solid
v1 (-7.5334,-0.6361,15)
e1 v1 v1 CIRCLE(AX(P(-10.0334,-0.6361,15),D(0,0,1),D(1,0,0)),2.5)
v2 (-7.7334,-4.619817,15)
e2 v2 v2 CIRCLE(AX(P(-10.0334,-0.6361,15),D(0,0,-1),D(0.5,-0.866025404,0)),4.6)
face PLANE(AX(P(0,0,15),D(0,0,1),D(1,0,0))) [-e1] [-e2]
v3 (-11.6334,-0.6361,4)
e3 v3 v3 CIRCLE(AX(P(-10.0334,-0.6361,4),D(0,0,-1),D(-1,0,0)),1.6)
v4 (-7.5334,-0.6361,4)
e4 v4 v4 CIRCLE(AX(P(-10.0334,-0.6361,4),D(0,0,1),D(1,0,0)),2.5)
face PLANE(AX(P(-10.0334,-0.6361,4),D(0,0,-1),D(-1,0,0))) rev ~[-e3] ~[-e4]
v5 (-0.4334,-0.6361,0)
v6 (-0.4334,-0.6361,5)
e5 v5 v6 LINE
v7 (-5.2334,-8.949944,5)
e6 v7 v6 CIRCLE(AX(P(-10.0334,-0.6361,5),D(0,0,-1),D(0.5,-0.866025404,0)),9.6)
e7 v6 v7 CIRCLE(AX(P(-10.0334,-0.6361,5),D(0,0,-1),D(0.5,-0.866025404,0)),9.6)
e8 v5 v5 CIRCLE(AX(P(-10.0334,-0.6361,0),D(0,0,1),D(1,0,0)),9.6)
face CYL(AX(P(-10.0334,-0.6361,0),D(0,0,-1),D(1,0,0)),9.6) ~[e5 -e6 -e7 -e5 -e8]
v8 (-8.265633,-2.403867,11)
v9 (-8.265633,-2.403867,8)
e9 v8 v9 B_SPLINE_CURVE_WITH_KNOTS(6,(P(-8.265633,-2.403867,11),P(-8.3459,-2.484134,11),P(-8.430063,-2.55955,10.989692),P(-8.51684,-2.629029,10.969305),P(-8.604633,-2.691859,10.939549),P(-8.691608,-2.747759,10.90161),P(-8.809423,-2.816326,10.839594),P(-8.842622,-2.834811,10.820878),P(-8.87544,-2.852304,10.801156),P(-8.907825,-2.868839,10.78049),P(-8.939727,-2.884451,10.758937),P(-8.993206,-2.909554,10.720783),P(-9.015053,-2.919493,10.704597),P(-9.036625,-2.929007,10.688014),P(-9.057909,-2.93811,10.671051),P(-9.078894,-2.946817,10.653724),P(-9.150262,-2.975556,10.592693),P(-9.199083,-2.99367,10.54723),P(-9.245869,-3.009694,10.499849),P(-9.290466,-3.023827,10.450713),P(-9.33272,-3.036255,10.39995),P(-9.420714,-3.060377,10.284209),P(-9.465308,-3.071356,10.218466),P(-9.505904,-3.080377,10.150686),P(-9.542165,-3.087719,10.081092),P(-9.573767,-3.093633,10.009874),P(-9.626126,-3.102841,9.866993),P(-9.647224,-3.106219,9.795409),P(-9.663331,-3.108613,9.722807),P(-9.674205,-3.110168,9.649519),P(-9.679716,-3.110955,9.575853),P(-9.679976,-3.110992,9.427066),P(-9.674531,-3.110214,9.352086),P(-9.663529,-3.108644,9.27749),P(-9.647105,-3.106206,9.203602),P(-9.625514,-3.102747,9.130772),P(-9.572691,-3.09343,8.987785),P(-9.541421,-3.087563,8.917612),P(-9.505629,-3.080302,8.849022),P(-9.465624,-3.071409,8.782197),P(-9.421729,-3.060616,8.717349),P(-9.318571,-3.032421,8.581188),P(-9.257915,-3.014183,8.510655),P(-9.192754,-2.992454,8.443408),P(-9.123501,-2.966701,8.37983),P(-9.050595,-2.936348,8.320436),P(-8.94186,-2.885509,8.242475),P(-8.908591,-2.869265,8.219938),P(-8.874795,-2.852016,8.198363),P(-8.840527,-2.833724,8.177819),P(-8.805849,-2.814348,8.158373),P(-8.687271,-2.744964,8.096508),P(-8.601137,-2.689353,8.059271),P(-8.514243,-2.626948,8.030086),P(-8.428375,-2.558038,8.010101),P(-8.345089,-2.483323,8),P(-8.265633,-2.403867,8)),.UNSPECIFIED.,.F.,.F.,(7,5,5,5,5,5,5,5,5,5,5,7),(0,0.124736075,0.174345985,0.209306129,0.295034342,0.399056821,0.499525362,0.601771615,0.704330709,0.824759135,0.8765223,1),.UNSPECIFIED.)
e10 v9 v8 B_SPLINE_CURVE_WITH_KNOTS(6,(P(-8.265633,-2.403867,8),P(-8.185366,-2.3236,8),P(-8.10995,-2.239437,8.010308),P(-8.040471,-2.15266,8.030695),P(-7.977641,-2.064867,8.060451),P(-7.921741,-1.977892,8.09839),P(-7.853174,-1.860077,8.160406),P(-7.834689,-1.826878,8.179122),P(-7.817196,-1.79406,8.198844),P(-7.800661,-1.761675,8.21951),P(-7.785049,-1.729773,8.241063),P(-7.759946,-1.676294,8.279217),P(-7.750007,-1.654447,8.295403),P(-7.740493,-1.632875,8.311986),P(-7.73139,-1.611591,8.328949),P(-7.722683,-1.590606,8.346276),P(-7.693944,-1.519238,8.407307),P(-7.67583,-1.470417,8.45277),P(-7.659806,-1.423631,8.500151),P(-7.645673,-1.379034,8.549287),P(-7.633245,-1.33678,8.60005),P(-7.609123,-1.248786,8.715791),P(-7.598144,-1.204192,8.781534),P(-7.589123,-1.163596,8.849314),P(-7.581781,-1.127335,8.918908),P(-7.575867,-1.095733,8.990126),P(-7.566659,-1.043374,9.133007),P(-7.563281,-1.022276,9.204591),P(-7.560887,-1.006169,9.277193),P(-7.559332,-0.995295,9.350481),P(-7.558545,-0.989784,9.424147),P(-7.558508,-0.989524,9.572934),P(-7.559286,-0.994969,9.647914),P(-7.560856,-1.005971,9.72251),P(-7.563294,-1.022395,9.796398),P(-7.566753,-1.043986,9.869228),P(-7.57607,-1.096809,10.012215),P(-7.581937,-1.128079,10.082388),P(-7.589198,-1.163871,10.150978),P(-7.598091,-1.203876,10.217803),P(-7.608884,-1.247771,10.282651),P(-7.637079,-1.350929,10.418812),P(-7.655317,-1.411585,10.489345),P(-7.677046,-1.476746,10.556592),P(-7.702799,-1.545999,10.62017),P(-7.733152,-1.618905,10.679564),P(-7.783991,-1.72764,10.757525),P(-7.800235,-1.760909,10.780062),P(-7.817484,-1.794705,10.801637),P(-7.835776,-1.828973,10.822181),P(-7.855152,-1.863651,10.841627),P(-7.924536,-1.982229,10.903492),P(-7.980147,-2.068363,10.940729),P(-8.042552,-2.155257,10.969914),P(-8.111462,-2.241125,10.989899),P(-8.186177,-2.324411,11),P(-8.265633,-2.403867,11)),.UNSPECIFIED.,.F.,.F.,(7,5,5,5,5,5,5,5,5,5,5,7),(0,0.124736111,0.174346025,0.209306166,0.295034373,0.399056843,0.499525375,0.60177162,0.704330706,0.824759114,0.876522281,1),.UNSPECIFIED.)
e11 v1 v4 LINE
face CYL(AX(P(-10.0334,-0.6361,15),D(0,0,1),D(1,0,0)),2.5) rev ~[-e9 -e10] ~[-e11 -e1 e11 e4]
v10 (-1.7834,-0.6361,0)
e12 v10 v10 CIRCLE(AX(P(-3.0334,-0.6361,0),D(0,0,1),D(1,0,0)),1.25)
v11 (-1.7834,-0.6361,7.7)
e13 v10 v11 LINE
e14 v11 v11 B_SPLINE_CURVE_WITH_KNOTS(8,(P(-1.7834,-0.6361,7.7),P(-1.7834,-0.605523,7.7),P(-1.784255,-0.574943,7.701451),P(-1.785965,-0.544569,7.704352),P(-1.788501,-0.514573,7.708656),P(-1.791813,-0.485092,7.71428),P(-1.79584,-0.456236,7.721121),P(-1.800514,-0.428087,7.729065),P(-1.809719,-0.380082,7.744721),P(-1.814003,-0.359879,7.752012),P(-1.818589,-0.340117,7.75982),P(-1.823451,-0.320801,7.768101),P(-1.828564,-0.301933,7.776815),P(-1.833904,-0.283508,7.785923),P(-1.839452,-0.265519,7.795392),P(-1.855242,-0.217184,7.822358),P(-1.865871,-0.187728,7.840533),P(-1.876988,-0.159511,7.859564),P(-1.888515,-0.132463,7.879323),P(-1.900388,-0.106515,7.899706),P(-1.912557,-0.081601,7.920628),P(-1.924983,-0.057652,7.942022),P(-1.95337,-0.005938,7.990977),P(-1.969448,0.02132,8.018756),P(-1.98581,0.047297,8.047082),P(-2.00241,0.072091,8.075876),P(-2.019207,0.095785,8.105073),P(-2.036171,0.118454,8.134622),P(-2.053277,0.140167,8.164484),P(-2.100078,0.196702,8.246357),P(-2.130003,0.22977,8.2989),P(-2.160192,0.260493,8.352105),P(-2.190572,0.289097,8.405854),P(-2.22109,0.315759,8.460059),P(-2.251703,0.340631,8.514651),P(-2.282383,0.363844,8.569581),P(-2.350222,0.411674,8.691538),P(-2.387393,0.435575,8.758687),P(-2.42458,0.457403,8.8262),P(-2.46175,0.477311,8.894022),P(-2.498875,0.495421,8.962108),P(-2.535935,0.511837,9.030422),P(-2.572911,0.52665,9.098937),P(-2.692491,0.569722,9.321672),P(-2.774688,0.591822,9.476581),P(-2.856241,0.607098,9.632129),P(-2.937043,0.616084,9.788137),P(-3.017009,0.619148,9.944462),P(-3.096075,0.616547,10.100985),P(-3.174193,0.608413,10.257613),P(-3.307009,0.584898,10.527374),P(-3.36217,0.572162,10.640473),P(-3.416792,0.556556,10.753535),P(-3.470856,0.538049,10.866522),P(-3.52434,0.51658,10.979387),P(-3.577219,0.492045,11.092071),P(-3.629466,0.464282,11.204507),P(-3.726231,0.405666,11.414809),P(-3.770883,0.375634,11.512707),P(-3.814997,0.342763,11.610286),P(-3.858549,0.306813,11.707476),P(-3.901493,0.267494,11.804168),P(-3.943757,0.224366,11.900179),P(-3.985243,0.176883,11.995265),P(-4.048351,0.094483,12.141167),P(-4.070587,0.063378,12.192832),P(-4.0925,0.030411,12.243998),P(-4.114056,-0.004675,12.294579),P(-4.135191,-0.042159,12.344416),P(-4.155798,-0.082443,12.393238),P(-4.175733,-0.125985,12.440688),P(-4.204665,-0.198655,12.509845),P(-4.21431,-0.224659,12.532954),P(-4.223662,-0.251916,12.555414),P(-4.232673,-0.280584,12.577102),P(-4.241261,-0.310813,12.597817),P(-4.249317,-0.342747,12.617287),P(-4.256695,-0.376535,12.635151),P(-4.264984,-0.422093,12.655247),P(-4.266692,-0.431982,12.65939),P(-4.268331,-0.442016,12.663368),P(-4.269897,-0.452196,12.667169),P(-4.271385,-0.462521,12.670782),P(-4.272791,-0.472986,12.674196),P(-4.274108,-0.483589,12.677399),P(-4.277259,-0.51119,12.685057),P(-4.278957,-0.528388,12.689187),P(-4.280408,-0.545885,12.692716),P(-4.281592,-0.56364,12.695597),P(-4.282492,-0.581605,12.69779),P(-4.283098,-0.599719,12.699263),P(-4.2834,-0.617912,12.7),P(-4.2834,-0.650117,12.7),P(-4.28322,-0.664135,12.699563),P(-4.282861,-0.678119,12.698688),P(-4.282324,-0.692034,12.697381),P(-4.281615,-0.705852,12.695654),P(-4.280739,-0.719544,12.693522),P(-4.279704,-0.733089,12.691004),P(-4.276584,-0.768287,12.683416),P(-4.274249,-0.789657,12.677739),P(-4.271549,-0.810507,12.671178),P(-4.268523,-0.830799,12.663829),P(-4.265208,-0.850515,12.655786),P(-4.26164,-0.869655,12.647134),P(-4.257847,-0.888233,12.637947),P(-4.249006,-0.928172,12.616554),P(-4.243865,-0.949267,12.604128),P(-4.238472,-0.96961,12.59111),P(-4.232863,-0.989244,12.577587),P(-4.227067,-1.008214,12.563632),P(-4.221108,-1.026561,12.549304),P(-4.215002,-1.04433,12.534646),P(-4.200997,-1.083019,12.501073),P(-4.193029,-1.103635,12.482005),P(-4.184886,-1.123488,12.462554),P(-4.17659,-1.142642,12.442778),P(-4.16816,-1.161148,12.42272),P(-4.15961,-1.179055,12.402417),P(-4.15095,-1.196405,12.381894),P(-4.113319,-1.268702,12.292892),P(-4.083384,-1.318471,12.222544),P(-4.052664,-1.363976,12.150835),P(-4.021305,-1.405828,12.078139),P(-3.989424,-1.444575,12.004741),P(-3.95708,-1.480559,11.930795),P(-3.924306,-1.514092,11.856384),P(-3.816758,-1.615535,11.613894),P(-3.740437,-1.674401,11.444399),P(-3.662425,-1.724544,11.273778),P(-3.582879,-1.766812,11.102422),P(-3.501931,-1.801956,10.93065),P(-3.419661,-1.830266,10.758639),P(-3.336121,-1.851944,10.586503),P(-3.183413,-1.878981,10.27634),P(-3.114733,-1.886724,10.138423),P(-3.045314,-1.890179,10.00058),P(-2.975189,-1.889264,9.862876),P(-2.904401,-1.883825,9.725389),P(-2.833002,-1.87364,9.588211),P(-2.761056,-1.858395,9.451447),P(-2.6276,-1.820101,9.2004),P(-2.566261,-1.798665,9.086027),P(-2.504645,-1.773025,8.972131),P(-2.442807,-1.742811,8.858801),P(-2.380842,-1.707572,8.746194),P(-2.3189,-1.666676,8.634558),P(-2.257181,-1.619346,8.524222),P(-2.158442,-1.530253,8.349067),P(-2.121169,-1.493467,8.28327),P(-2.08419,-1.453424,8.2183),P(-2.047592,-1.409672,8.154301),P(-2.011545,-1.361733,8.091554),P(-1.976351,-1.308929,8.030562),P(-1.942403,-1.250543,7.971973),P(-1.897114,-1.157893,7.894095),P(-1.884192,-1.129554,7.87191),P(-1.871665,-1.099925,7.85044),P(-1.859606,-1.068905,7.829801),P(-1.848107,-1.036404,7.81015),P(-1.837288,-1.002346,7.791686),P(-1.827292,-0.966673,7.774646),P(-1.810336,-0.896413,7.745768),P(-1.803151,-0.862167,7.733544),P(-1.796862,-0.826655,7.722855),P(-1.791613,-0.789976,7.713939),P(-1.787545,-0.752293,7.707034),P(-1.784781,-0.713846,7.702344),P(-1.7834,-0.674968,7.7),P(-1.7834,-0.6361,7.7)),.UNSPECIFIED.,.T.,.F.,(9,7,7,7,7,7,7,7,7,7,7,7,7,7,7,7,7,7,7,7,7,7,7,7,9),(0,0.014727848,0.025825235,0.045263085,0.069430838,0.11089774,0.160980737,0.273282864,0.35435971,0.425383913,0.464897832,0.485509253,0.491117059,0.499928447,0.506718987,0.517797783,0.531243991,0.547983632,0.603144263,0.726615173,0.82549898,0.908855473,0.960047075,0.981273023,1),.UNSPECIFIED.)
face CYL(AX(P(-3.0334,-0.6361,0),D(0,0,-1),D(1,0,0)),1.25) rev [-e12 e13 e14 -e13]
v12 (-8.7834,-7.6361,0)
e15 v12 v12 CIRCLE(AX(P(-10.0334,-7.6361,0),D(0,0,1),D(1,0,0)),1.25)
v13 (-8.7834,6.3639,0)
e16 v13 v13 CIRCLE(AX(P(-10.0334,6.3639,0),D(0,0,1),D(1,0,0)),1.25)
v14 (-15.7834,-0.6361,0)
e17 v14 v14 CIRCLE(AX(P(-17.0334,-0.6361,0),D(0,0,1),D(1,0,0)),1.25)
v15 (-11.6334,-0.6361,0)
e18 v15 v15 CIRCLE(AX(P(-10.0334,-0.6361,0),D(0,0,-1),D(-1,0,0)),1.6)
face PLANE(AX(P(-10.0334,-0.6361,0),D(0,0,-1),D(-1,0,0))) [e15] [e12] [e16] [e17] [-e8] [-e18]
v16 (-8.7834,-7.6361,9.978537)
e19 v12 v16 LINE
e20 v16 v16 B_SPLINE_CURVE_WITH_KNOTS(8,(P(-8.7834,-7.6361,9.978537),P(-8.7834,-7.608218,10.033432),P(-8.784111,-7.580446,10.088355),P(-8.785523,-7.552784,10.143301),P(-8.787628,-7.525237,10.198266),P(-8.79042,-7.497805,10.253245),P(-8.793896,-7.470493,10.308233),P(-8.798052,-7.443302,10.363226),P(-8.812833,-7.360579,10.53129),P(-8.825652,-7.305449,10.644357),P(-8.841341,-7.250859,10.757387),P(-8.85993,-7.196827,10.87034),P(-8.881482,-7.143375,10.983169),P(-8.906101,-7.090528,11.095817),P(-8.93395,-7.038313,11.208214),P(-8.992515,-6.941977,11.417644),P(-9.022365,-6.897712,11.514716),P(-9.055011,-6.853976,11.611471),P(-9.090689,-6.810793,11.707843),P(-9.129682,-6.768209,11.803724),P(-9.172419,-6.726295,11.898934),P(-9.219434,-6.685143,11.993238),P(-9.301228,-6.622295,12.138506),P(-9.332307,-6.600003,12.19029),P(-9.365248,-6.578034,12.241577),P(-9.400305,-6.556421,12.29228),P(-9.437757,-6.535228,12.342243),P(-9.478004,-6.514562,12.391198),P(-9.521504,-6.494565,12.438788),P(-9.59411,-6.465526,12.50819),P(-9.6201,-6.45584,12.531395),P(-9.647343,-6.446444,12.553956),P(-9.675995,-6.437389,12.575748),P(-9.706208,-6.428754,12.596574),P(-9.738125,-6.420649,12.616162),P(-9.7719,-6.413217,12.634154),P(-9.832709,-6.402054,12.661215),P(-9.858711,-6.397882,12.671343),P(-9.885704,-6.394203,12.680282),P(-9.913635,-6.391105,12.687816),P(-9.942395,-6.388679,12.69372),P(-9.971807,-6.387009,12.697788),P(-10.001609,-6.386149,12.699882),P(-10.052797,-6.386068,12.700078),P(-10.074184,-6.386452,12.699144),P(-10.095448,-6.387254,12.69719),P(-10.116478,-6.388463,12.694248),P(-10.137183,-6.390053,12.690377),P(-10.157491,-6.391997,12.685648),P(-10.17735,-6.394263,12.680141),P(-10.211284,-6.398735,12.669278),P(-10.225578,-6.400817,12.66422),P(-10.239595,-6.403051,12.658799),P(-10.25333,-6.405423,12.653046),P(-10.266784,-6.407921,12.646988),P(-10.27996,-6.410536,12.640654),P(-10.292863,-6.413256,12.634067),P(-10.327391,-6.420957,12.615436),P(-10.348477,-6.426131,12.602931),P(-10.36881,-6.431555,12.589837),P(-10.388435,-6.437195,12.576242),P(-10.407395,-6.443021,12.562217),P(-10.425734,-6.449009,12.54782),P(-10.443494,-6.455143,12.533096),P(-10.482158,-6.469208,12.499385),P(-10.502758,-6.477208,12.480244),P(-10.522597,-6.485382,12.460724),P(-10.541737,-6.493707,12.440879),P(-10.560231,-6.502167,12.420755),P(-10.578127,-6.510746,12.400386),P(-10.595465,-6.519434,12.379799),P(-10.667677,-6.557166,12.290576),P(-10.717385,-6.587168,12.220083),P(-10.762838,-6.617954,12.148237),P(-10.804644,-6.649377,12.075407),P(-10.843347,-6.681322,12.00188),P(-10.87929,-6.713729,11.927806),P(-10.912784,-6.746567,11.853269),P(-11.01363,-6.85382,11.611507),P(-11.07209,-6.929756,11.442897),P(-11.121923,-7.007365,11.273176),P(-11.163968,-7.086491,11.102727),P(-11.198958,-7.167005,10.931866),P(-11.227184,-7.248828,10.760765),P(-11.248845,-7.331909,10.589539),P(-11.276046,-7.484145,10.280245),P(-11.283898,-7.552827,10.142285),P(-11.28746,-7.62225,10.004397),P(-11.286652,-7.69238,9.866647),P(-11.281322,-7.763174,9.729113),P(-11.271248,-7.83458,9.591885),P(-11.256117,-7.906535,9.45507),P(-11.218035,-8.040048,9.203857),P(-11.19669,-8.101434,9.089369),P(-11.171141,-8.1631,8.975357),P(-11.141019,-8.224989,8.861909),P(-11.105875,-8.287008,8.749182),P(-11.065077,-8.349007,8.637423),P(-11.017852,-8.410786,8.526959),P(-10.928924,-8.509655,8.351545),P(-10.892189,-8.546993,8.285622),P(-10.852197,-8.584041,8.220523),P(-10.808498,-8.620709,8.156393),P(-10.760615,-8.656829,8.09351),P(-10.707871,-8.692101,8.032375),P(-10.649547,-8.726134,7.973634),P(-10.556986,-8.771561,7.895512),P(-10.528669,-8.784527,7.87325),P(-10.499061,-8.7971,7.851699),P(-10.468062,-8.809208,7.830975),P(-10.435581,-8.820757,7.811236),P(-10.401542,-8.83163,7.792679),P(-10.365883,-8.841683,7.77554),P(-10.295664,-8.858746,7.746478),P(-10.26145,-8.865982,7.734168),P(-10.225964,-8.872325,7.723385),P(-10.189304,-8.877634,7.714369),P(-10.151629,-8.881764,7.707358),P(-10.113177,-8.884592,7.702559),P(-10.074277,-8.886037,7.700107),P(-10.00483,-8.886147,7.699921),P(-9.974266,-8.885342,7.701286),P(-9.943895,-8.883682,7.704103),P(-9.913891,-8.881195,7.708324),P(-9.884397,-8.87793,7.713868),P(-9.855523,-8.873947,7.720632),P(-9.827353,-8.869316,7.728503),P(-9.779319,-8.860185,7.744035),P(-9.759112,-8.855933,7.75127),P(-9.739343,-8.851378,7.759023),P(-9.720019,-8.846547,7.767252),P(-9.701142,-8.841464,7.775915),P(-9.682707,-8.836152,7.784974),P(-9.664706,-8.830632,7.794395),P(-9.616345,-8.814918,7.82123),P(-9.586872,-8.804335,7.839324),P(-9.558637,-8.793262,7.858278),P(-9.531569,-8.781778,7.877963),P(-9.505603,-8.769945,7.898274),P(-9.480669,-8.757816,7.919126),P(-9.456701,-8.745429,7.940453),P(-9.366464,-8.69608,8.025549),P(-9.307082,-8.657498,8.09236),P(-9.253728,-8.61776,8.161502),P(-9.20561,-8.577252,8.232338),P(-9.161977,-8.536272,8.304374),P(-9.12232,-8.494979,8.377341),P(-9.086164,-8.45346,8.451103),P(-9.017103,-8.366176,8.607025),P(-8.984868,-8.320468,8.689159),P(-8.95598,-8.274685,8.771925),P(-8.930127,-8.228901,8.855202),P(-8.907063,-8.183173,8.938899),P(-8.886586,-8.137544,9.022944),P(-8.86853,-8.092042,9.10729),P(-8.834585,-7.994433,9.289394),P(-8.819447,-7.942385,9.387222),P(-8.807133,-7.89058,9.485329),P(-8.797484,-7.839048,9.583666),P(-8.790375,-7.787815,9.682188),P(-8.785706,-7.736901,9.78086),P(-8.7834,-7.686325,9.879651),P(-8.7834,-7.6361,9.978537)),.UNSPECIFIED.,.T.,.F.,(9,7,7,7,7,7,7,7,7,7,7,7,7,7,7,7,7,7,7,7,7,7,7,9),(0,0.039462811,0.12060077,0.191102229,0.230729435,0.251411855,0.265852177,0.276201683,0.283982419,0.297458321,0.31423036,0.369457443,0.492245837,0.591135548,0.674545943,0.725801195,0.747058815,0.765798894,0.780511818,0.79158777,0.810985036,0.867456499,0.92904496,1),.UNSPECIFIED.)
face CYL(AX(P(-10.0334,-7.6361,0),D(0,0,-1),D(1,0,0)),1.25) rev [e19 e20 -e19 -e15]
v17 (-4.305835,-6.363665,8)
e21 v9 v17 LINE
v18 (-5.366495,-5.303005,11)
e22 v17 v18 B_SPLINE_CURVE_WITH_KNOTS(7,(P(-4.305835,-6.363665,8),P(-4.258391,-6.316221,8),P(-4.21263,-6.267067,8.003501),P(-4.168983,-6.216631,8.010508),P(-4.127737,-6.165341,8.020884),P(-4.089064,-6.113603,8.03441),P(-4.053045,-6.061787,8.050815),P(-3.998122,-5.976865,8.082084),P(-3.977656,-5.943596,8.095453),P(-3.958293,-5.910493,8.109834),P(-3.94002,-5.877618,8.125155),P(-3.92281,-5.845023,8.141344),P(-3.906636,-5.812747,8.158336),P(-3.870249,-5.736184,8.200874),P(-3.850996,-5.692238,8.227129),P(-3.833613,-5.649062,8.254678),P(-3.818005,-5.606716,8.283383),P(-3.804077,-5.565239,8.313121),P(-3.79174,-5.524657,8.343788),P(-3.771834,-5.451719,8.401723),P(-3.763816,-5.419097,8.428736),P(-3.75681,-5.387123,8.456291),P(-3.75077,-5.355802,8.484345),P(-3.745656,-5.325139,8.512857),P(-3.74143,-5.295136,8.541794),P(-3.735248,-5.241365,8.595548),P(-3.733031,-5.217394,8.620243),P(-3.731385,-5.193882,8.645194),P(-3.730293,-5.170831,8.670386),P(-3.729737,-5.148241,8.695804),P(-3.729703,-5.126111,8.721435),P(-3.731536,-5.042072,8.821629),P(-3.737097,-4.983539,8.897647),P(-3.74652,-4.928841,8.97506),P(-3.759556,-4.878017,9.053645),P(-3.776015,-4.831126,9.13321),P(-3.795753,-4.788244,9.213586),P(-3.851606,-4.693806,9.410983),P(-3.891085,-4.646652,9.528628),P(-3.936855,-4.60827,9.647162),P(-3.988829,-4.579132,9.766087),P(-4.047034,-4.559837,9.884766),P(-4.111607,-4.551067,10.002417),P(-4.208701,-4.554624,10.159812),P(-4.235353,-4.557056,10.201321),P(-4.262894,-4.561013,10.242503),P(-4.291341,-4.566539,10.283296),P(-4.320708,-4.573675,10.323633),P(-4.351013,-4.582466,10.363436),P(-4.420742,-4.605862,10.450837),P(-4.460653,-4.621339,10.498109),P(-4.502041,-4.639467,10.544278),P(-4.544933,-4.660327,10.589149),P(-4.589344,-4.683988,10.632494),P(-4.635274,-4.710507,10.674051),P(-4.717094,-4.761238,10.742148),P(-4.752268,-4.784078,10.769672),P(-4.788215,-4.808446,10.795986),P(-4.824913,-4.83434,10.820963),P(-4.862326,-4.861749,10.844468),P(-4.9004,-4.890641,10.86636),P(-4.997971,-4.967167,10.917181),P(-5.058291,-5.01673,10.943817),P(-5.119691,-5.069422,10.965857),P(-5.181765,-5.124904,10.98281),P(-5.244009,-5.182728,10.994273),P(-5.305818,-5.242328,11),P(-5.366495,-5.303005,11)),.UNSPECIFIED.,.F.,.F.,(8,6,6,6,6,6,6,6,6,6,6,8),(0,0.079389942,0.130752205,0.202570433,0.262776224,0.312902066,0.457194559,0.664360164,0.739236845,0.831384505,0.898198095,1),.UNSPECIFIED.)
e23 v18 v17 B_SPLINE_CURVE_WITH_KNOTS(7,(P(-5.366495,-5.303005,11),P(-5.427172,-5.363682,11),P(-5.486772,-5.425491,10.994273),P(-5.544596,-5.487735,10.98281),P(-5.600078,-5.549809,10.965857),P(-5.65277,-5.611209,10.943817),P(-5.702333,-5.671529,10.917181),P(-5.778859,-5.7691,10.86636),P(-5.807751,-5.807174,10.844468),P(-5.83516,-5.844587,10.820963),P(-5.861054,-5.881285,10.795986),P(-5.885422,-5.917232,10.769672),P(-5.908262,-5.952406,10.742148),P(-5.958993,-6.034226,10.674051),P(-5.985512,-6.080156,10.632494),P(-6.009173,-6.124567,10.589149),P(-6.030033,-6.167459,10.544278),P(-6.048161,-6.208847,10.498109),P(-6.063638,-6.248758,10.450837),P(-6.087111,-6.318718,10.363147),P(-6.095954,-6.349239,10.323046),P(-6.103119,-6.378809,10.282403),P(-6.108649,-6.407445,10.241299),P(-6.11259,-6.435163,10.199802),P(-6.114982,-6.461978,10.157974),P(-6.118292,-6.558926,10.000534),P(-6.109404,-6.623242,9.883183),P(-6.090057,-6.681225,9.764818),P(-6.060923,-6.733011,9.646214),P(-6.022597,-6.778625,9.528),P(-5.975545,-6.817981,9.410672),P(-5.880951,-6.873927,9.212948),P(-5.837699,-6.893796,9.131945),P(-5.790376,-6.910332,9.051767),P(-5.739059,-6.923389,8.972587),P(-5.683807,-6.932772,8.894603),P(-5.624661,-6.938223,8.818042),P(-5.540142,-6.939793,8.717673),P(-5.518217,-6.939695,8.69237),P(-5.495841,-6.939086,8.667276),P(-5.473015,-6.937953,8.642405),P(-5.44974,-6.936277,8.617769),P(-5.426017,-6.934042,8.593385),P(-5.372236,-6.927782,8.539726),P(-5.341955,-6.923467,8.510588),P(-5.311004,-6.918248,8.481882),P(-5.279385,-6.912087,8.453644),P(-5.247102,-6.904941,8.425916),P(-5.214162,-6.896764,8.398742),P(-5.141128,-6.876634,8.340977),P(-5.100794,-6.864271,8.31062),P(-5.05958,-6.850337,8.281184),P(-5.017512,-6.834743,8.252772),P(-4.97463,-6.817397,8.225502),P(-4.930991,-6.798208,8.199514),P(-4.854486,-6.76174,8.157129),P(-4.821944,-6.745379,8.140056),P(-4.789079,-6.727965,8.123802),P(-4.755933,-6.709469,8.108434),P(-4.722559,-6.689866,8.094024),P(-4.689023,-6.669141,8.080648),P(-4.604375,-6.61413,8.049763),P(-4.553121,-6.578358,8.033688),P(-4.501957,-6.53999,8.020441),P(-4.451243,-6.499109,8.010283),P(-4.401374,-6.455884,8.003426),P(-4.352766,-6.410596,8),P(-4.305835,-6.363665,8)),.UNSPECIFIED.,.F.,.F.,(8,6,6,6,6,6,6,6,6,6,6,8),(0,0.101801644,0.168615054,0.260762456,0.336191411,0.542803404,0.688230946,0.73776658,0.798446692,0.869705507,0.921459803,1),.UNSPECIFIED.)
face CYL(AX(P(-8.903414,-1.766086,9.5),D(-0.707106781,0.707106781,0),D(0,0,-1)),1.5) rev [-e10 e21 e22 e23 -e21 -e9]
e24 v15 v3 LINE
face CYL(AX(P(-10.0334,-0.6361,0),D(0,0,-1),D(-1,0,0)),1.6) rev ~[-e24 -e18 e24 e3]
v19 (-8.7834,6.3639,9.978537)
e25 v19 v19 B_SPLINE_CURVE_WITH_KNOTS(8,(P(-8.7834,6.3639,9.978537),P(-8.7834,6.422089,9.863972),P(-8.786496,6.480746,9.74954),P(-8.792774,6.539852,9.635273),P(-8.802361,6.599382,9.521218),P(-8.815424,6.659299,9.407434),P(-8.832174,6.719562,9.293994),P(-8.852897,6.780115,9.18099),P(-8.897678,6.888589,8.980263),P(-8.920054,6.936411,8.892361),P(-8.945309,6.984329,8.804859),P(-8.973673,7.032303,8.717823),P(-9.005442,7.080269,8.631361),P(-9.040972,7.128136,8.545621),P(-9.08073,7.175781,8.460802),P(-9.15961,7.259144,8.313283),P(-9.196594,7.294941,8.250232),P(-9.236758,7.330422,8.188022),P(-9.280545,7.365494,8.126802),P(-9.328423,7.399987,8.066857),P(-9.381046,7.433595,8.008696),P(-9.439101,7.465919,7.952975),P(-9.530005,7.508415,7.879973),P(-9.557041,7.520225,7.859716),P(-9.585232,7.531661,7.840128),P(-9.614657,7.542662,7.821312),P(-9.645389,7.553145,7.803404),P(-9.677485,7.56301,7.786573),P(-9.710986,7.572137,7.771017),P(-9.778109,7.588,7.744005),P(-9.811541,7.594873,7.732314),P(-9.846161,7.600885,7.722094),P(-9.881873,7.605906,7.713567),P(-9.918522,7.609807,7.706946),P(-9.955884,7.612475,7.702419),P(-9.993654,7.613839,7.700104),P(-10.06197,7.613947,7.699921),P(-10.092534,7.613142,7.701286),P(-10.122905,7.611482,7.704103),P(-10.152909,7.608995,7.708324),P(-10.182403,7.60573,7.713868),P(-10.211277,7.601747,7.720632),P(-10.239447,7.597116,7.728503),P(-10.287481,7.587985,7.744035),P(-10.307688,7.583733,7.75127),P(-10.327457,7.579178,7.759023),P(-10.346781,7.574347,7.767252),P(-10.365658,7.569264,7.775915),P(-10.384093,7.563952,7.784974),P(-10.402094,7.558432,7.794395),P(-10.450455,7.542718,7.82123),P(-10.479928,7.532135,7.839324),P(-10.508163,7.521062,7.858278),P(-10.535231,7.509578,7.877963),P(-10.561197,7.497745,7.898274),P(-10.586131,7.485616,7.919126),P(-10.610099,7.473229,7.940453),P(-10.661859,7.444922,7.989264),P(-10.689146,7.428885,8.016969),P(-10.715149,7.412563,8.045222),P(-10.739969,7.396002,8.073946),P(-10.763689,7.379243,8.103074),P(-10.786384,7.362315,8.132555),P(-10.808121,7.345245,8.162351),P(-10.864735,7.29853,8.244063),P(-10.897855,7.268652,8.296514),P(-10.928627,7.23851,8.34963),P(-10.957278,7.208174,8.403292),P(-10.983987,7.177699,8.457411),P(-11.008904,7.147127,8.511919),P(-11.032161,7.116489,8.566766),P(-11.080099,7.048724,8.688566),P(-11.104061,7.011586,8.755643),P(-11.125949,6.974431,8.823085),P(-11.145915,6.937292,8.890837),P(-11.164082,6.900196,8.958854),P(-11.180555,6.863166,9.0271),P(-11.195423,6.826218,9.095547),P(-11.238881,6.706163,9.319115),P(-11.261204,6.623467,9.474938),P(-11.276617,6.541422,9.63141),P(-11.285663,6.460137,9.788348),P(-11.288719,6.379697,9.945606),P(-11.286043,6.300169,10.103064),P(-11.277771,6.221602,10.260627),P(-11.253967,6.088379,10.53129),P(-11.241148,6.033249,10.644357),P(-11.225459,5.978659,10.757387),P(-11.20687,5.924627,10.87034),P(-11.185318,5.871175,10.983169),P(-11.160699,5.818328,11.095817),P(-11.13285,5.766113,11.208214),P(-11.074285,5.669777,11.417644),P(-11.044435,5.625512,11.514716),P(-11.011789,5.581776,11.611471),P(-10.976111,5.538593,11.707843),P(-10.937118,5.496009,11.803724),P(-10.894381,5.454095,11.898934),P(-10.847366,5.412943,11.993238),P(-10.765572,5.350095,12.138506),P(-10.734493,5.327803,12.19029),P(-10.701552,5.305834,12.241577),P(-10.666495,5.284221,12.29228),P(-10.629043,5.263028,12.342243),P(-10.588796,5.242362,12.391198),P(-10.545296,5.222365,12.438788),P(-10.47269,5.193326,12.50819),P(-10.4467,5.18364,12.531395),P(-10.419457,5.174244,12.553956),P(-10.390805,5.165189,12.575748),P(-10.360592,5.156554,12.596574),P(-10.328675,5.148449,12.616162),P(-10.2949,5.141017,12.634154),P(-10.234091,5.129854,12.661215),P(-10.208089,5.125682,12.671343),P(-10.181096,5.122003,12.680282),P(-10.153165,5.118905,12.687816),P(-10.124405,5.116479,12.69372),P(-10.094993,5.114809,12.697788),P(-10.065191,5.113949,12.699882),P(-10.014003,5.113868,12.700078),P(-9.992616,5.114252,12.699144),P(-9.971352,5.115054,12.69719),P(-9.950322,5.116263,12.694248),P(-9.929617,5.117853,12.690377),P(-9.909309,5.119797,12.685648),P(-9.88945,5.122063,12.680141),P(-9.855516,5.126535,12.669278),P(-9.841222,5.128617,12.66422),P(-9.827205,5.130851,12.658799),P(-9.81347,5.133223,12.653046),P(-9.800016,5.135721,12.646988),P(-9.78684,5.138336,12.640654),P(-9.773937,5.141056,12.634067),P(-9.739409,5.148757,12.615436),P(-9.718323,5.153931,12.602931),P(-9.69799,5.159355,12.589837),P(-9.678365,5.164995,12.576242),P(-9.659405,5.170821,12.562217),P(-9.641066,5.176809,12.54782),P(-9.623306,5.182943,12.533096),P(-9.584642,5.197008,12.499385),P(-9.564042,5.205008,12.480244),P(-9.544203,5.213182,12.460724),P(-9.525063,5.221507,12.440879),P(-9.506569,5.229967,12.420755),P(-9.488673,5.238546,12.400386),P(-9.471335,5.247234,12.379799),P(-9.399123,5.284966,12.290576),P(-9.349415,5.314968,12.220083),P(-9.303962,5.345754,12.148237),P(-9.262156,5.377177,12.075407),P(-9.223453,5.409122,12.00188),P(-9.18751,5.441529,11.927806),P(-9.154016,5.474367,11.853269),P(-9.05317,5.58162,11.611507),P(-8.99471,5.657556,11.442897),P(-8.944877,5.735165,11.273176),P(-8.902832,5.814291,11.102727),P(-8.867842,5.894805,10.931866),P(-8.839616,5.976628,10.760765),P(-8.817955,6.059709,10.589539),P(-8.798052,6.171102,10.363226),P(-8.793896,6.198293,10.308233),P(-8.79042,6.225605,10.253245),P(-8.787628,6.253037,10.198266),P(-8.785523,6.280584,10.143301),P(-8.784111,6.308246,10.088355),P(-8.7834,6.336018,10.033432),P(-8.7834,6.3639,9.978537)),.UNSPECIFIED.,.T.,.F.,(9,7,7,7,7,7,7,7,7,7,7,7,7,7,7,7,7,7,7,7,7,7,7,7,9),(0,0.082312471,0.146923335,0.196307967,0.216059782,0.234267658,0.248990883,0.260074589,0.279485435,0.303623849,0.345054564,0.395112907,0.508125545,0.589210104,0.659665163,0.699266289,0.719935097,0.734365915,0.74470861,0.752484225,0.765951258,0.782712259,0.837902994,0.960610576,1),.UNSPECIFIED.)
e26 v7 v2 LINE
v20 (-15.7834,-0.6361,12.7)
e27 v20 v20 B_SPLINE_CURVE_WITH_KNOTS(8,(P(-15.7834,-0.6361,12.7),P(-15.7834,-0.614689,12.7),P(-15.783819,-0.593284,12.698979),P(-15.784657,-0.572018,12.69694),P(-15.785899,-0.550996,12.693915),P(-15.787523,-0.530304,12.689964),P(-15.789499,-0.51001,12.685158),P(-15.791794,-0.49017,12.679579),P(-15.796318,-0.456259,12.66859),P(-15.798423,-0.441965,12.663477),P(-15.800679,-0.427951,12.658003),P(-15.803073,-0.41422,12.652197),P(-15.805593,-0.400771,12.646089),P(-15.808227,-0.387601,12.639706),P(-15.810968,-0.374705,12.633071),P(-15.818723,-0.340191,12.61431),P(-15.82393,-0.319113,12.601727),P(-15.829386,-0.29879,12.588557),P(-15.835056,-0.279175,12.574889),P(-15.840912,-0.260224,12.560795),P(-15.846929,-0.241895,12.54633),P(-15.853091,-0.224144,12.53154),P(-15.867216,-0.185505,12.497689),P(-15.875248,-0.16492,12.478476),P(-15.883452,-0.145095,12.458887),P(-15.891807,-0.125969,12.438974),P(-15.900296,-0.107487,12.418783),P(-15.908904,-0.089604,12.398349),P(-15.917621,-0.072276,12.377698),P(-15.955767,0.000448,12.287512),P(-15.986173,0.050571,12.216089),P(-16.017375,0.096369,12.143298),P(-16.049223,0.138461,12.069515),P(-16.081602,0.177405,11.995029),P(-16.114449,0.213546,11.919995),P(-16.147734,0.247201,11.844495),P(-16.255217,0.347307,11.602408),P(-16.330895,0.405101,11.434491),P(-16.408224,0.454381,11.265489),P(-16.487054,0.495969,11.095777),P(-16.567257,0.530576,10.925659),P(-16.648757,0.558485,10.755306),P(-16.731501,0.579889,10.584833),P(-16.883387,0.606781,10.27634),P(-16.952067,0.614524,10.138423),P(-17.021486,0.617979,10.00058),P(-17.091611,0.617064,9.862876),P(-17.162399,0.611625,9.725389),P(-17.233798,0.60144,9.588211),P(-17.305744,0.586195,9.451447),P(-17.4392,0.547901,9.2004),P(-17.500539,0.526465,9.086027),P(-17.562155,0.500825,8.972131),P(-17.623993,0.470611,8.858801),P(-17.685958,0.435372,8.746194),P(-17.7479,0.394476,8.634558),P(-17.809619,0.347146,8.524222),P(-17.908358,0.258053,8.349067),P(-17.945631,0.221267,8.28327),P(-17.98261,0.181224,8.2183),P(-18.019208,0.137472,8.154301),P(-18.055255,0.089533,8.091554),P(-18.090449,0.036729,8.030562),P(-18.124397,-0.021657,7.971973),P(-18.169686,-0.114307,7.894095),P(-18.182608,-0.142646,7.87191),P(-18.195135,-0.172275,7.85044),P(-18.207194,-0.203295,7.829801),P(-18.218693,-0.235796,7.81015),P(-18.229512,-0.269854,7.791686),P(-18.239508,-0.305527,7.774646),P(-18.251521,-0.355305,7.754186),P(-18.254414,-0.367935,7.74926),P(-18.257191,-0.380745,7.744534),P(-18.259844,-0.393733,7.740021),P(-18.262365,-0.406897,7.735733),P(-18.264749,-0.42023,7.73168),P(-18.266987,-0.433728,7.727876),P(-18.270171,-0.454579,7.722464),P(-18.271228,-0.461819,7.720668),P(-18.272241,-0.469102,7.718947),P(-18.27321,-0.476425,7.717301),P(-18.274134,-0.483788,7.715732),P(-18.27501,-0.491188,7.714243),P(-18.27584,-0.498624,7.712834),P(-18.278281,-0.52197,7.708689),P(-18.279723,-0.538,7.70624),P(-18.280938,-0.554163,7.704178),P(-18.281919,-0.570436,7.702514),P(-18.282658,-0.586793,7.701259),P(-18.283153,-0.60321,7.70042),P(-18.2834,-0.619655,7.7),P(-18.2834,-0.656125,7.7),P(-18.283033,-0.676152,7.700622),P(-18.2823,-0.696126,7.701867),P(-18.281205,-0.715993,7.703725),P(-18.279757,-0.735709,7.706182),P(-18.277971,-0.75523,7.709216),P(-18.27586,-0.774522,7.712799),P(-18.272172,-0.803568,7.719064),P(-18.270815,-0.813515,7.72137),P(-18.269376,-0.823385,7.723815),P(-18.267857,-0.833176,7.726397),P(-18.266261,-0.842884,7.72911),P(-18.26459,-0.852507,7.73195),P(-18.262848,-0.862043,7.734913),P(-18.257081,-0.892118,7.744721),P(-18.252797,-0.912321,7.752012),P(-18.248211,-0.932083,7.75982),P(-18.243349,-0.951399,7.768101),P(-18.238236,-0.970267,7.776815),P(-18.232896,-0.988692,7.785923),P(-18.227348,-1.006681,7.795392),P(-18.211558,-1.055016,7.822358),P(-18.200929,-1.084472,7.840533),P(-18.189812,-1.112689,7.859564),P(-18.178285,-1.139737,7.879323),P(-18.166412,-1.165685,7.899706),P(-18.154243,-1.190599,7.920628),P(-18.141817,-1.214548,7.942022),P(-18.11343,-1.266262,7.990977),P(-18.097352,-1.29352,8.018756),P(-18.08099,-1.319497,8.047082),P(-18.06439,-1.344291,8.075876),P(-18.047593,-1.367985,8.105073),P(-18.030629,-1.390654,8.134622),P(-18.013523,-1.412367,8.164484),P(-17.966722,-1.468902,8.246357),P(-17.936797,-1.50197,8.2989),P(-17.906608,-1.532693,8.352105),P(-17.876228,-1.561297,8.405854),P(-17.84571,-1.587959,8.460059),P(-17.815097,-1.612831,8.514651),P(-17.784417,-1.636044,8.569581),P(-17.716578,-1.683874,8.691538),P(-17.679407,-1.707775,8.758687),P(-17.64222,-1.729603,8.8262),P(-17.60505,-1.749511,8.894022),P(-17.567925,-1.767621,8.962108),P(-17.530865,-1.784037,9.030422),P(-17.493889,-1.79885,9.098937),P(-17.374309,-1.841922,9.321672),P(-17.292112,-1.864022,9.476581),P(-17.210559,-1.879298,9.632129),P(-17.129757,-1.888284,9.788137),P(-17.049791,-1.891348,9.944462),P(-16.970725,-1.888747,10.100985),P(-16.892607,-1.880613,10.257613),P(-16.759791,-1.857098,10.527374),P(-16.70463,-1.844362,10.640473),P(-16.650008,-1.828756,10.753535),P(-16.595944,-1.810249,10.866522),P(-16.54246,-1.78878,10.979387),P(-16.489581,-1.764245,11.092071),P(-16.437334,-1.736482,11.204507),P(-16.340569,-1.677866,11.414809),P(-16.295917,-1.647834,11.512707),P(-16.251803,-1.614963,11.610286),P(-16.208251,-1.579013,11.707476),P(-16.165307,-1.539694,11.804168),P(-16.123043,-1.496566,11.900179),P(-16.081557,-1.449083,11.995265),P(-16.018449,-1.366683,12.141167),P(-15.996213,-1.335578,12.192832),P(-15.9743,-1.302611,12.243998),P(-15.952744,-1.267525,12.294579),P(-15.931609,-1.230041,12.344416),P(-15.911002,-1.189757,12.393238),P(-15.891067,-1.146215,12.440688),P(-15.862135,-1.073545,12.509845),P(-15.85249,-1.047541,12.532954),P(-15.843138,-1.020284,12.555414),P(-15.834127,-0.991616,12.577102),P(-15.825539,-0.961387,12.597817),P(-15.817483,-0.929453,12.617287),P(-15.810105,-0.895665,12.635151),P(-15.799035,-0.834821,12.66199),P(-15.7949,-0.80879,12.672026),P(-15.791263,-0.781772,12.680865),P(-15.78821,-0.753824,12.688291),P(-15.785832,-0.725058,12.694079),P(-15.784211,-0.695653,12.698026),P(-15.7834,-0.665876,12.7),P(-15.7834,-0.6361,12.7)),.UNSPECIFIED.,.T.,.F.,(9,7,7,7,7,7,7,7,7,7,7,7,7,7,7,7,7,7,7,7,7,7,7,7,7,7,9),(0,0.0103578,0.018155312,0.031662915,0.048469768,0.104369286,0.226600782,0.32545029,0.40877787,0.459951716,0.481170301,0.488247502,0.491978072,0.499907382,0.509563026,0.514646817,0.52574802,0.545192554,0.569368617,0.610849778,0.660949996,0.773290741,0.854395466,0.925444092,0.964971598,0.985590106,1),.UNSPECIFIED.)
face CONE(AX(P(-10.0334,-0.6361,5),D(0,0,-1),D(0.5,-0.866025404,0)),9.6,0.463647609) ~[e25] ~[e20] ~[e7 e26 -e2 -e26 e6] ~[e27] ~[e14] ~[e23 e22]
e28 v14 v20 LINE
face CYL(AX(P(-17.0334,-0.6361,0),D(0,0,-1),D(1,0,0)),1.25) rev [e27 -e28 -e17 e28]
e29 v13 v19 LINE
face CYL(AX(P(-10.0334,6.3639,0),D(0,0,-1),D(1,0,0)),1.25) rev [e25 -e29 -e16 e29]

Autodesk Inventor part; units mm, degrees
ref_plane "YZ Plane" through (0, 0, 0) normal (1, 0, 0) x (0, 1, 0)
ref_plane "XZ Plane" through (0, 0, 0) normal (0, 1, 0) x (-1, 0, 0)
ref_plane "XY Plane" through (0, 0, 0) normal (0, 0, 1) x (1, 0, 0)
sketch "Sketch1" plane through (0, 0, 0) normal (0, 0, 1) x (1, 0, 0)
  circle A0 centre (-10.0334, -0.6361) radius 9.6 projected
  circle A1 centre (-10.0334, 6.3639) radius 1.25 projected
  circle A2 centre (-3.0334, -0.6361) radius 1.25 projected
  circle A3 centre (-17.0334, -0.6361) radius 1.25 projected
  circle A4 centre (-10.0334, -7.6361) radius 1.25 projected
  point P0 (0, 0)
extrude "Extrusion1" add sketch "Sketch1" along normal blind 15
sketch "Sketch2" plane through (-10.0334, -0.6361, 15) normal (0, 0, 1) x (1, 0, 0)
  circle A0 centre (0, 0) radius 2.5
  point P0 (10.0334, 0.6361)
  dimension "d2" = 5
extrude "Extrusion2" cut sketch "Sketch2" against normal through all
ref_plane "Work Plane2" through (-10.0334, -0.6361, 15) normal (-0.866, -0.5, 0) x (0, 0, -1)
ref_plane "Work Plane1" through (54.8563, 26.4356, 21.5) normal (0.5, -0.866, 0) x (-0.2494, -0.144, -0.9577)
sketch "Sketch3" plane through (-10.0334, -0.6361, 15) normal (-0.866, -0.5, 0) x (0, 0, -1)
  line L0 (0, 9.6) -> (0, -9.6) projected
  line L1 (0, 9.6) -> (10, 9.6)
  line L2 (15, 9.6) -> (0, 9.6) projected
  line L3 (15, 9.6) -> (15, 4.6)
  line L4 (15, 9.6) -> (15, -9.6) projected
  line L5 (10, 9.6) -> (15, 4.6)
  line L6 (-3, 0) -> (18, 0) projected
  line L7 (10, 9.6) -> (0, 4.6)
  point P0 (15, 4.4658)
  point P1 (10, 9.6)
  dimension "d6" = 10
  dimension "d7" = 5
revolve "Revolution1" cut sketch "Sketch3" angle 360 about axis through (-10.0334, -0.6361, 15) along (0, 0, -1) contours L1 L7 L0
sketch "Sketch4" plane through (-10.0334, -0.6361, 0) normal (0, 0, -1) x (-1, 0, 0)
  circle A0 centre (0, 0) radius 2.5
  circle A1 centre (0, 0) radius 1.6
  point P0 (-10.0334, 0.6361)
  dimension "d9" = 3.2
extrude "Extrusion3" add sketch "Sketch4" against normal blind 4
sketch "Sketch5" plane through (-10.0334, -0.6361, 15) normal (-0.866, -0.5, 0) x (0, 0, -1)
  line L0 (0, -2.5) -> (0, 2.5) projected
  line L1 (0, 2.5) -> (5.5, 2.5)
  line L2 (0, 2.5) -> (11, 2.5) projected
  line L3 (5.5, 2.5) -> (5.5, 8.6823)
  point P0 (15, 4.4658)
ref_plane "Work Plane6" through (-8.902, -1.7675, 0) normal (0.7071, -0.7071, 0) x (0, 0, -1)
ref_plane "Work Plane5" through (-10.0334, -0.6361, 15) normal (0.7071, -0.7071, 0) x (0, 0, -1)
sketch "Sketch7" plane through (-8.902, -1.7675, 0) normal (0.7071, -0.7071, 0) x (0, 0, -1)
  line L0 (-15, -2.5) -> (-15, 2.5) projected
  line L1 (-15, 0) -> (-9.5, 0)
  circle A0 centre (-9.5, 0) radius 1.5
  point P0 (0, 7.5445)
  dimension "d16" = 5.5
  dimension "d17" = 3
extrude "Extrusion4" cut sketch "Sketch7" along normal blind 10
sketch "Sketch8" plane through (-8.902, -1.7675, 0) normal (0.7071, -0.7071, 0) x (0, 0, -1)
  line L0 (-15, 4.6) -> (-15, -4.6) projected
  line L1 (-15, 0) -> (-9.5, 0)
  line L2 (-12.4319, 0) -> (-10.9659, 2.5391)
  line L3 (-10.9659, 2.5391) -> (-8.0341, 2.5391)
  line L4 (-8.0341, 2.5391) -> (-6.5681, 0)
  line L5 (-6.5681, 0) -> (-8.0341, -2.5391)
  line L6 (-8.0341, -2.5391) -> (-10.9659, -2.5391)
  line L7 (-10.9659, -2.5391) -> (-12.4319, 0)
  point P0 (0, 7.5445)
  point P1 (-9.6531, 1.4922)
  dimension "d20" = 5.5
thread "Thread1" size "M3x0.5" class "6H" standard "ANSI Metric M Profile" full length
ref_plane "Work Plane4" through (-10.0334, 6.3639, 0) normal (0.7071, -0.7071, 0) x (0, 0, 1)
properties part number "servo_rod_connector"
